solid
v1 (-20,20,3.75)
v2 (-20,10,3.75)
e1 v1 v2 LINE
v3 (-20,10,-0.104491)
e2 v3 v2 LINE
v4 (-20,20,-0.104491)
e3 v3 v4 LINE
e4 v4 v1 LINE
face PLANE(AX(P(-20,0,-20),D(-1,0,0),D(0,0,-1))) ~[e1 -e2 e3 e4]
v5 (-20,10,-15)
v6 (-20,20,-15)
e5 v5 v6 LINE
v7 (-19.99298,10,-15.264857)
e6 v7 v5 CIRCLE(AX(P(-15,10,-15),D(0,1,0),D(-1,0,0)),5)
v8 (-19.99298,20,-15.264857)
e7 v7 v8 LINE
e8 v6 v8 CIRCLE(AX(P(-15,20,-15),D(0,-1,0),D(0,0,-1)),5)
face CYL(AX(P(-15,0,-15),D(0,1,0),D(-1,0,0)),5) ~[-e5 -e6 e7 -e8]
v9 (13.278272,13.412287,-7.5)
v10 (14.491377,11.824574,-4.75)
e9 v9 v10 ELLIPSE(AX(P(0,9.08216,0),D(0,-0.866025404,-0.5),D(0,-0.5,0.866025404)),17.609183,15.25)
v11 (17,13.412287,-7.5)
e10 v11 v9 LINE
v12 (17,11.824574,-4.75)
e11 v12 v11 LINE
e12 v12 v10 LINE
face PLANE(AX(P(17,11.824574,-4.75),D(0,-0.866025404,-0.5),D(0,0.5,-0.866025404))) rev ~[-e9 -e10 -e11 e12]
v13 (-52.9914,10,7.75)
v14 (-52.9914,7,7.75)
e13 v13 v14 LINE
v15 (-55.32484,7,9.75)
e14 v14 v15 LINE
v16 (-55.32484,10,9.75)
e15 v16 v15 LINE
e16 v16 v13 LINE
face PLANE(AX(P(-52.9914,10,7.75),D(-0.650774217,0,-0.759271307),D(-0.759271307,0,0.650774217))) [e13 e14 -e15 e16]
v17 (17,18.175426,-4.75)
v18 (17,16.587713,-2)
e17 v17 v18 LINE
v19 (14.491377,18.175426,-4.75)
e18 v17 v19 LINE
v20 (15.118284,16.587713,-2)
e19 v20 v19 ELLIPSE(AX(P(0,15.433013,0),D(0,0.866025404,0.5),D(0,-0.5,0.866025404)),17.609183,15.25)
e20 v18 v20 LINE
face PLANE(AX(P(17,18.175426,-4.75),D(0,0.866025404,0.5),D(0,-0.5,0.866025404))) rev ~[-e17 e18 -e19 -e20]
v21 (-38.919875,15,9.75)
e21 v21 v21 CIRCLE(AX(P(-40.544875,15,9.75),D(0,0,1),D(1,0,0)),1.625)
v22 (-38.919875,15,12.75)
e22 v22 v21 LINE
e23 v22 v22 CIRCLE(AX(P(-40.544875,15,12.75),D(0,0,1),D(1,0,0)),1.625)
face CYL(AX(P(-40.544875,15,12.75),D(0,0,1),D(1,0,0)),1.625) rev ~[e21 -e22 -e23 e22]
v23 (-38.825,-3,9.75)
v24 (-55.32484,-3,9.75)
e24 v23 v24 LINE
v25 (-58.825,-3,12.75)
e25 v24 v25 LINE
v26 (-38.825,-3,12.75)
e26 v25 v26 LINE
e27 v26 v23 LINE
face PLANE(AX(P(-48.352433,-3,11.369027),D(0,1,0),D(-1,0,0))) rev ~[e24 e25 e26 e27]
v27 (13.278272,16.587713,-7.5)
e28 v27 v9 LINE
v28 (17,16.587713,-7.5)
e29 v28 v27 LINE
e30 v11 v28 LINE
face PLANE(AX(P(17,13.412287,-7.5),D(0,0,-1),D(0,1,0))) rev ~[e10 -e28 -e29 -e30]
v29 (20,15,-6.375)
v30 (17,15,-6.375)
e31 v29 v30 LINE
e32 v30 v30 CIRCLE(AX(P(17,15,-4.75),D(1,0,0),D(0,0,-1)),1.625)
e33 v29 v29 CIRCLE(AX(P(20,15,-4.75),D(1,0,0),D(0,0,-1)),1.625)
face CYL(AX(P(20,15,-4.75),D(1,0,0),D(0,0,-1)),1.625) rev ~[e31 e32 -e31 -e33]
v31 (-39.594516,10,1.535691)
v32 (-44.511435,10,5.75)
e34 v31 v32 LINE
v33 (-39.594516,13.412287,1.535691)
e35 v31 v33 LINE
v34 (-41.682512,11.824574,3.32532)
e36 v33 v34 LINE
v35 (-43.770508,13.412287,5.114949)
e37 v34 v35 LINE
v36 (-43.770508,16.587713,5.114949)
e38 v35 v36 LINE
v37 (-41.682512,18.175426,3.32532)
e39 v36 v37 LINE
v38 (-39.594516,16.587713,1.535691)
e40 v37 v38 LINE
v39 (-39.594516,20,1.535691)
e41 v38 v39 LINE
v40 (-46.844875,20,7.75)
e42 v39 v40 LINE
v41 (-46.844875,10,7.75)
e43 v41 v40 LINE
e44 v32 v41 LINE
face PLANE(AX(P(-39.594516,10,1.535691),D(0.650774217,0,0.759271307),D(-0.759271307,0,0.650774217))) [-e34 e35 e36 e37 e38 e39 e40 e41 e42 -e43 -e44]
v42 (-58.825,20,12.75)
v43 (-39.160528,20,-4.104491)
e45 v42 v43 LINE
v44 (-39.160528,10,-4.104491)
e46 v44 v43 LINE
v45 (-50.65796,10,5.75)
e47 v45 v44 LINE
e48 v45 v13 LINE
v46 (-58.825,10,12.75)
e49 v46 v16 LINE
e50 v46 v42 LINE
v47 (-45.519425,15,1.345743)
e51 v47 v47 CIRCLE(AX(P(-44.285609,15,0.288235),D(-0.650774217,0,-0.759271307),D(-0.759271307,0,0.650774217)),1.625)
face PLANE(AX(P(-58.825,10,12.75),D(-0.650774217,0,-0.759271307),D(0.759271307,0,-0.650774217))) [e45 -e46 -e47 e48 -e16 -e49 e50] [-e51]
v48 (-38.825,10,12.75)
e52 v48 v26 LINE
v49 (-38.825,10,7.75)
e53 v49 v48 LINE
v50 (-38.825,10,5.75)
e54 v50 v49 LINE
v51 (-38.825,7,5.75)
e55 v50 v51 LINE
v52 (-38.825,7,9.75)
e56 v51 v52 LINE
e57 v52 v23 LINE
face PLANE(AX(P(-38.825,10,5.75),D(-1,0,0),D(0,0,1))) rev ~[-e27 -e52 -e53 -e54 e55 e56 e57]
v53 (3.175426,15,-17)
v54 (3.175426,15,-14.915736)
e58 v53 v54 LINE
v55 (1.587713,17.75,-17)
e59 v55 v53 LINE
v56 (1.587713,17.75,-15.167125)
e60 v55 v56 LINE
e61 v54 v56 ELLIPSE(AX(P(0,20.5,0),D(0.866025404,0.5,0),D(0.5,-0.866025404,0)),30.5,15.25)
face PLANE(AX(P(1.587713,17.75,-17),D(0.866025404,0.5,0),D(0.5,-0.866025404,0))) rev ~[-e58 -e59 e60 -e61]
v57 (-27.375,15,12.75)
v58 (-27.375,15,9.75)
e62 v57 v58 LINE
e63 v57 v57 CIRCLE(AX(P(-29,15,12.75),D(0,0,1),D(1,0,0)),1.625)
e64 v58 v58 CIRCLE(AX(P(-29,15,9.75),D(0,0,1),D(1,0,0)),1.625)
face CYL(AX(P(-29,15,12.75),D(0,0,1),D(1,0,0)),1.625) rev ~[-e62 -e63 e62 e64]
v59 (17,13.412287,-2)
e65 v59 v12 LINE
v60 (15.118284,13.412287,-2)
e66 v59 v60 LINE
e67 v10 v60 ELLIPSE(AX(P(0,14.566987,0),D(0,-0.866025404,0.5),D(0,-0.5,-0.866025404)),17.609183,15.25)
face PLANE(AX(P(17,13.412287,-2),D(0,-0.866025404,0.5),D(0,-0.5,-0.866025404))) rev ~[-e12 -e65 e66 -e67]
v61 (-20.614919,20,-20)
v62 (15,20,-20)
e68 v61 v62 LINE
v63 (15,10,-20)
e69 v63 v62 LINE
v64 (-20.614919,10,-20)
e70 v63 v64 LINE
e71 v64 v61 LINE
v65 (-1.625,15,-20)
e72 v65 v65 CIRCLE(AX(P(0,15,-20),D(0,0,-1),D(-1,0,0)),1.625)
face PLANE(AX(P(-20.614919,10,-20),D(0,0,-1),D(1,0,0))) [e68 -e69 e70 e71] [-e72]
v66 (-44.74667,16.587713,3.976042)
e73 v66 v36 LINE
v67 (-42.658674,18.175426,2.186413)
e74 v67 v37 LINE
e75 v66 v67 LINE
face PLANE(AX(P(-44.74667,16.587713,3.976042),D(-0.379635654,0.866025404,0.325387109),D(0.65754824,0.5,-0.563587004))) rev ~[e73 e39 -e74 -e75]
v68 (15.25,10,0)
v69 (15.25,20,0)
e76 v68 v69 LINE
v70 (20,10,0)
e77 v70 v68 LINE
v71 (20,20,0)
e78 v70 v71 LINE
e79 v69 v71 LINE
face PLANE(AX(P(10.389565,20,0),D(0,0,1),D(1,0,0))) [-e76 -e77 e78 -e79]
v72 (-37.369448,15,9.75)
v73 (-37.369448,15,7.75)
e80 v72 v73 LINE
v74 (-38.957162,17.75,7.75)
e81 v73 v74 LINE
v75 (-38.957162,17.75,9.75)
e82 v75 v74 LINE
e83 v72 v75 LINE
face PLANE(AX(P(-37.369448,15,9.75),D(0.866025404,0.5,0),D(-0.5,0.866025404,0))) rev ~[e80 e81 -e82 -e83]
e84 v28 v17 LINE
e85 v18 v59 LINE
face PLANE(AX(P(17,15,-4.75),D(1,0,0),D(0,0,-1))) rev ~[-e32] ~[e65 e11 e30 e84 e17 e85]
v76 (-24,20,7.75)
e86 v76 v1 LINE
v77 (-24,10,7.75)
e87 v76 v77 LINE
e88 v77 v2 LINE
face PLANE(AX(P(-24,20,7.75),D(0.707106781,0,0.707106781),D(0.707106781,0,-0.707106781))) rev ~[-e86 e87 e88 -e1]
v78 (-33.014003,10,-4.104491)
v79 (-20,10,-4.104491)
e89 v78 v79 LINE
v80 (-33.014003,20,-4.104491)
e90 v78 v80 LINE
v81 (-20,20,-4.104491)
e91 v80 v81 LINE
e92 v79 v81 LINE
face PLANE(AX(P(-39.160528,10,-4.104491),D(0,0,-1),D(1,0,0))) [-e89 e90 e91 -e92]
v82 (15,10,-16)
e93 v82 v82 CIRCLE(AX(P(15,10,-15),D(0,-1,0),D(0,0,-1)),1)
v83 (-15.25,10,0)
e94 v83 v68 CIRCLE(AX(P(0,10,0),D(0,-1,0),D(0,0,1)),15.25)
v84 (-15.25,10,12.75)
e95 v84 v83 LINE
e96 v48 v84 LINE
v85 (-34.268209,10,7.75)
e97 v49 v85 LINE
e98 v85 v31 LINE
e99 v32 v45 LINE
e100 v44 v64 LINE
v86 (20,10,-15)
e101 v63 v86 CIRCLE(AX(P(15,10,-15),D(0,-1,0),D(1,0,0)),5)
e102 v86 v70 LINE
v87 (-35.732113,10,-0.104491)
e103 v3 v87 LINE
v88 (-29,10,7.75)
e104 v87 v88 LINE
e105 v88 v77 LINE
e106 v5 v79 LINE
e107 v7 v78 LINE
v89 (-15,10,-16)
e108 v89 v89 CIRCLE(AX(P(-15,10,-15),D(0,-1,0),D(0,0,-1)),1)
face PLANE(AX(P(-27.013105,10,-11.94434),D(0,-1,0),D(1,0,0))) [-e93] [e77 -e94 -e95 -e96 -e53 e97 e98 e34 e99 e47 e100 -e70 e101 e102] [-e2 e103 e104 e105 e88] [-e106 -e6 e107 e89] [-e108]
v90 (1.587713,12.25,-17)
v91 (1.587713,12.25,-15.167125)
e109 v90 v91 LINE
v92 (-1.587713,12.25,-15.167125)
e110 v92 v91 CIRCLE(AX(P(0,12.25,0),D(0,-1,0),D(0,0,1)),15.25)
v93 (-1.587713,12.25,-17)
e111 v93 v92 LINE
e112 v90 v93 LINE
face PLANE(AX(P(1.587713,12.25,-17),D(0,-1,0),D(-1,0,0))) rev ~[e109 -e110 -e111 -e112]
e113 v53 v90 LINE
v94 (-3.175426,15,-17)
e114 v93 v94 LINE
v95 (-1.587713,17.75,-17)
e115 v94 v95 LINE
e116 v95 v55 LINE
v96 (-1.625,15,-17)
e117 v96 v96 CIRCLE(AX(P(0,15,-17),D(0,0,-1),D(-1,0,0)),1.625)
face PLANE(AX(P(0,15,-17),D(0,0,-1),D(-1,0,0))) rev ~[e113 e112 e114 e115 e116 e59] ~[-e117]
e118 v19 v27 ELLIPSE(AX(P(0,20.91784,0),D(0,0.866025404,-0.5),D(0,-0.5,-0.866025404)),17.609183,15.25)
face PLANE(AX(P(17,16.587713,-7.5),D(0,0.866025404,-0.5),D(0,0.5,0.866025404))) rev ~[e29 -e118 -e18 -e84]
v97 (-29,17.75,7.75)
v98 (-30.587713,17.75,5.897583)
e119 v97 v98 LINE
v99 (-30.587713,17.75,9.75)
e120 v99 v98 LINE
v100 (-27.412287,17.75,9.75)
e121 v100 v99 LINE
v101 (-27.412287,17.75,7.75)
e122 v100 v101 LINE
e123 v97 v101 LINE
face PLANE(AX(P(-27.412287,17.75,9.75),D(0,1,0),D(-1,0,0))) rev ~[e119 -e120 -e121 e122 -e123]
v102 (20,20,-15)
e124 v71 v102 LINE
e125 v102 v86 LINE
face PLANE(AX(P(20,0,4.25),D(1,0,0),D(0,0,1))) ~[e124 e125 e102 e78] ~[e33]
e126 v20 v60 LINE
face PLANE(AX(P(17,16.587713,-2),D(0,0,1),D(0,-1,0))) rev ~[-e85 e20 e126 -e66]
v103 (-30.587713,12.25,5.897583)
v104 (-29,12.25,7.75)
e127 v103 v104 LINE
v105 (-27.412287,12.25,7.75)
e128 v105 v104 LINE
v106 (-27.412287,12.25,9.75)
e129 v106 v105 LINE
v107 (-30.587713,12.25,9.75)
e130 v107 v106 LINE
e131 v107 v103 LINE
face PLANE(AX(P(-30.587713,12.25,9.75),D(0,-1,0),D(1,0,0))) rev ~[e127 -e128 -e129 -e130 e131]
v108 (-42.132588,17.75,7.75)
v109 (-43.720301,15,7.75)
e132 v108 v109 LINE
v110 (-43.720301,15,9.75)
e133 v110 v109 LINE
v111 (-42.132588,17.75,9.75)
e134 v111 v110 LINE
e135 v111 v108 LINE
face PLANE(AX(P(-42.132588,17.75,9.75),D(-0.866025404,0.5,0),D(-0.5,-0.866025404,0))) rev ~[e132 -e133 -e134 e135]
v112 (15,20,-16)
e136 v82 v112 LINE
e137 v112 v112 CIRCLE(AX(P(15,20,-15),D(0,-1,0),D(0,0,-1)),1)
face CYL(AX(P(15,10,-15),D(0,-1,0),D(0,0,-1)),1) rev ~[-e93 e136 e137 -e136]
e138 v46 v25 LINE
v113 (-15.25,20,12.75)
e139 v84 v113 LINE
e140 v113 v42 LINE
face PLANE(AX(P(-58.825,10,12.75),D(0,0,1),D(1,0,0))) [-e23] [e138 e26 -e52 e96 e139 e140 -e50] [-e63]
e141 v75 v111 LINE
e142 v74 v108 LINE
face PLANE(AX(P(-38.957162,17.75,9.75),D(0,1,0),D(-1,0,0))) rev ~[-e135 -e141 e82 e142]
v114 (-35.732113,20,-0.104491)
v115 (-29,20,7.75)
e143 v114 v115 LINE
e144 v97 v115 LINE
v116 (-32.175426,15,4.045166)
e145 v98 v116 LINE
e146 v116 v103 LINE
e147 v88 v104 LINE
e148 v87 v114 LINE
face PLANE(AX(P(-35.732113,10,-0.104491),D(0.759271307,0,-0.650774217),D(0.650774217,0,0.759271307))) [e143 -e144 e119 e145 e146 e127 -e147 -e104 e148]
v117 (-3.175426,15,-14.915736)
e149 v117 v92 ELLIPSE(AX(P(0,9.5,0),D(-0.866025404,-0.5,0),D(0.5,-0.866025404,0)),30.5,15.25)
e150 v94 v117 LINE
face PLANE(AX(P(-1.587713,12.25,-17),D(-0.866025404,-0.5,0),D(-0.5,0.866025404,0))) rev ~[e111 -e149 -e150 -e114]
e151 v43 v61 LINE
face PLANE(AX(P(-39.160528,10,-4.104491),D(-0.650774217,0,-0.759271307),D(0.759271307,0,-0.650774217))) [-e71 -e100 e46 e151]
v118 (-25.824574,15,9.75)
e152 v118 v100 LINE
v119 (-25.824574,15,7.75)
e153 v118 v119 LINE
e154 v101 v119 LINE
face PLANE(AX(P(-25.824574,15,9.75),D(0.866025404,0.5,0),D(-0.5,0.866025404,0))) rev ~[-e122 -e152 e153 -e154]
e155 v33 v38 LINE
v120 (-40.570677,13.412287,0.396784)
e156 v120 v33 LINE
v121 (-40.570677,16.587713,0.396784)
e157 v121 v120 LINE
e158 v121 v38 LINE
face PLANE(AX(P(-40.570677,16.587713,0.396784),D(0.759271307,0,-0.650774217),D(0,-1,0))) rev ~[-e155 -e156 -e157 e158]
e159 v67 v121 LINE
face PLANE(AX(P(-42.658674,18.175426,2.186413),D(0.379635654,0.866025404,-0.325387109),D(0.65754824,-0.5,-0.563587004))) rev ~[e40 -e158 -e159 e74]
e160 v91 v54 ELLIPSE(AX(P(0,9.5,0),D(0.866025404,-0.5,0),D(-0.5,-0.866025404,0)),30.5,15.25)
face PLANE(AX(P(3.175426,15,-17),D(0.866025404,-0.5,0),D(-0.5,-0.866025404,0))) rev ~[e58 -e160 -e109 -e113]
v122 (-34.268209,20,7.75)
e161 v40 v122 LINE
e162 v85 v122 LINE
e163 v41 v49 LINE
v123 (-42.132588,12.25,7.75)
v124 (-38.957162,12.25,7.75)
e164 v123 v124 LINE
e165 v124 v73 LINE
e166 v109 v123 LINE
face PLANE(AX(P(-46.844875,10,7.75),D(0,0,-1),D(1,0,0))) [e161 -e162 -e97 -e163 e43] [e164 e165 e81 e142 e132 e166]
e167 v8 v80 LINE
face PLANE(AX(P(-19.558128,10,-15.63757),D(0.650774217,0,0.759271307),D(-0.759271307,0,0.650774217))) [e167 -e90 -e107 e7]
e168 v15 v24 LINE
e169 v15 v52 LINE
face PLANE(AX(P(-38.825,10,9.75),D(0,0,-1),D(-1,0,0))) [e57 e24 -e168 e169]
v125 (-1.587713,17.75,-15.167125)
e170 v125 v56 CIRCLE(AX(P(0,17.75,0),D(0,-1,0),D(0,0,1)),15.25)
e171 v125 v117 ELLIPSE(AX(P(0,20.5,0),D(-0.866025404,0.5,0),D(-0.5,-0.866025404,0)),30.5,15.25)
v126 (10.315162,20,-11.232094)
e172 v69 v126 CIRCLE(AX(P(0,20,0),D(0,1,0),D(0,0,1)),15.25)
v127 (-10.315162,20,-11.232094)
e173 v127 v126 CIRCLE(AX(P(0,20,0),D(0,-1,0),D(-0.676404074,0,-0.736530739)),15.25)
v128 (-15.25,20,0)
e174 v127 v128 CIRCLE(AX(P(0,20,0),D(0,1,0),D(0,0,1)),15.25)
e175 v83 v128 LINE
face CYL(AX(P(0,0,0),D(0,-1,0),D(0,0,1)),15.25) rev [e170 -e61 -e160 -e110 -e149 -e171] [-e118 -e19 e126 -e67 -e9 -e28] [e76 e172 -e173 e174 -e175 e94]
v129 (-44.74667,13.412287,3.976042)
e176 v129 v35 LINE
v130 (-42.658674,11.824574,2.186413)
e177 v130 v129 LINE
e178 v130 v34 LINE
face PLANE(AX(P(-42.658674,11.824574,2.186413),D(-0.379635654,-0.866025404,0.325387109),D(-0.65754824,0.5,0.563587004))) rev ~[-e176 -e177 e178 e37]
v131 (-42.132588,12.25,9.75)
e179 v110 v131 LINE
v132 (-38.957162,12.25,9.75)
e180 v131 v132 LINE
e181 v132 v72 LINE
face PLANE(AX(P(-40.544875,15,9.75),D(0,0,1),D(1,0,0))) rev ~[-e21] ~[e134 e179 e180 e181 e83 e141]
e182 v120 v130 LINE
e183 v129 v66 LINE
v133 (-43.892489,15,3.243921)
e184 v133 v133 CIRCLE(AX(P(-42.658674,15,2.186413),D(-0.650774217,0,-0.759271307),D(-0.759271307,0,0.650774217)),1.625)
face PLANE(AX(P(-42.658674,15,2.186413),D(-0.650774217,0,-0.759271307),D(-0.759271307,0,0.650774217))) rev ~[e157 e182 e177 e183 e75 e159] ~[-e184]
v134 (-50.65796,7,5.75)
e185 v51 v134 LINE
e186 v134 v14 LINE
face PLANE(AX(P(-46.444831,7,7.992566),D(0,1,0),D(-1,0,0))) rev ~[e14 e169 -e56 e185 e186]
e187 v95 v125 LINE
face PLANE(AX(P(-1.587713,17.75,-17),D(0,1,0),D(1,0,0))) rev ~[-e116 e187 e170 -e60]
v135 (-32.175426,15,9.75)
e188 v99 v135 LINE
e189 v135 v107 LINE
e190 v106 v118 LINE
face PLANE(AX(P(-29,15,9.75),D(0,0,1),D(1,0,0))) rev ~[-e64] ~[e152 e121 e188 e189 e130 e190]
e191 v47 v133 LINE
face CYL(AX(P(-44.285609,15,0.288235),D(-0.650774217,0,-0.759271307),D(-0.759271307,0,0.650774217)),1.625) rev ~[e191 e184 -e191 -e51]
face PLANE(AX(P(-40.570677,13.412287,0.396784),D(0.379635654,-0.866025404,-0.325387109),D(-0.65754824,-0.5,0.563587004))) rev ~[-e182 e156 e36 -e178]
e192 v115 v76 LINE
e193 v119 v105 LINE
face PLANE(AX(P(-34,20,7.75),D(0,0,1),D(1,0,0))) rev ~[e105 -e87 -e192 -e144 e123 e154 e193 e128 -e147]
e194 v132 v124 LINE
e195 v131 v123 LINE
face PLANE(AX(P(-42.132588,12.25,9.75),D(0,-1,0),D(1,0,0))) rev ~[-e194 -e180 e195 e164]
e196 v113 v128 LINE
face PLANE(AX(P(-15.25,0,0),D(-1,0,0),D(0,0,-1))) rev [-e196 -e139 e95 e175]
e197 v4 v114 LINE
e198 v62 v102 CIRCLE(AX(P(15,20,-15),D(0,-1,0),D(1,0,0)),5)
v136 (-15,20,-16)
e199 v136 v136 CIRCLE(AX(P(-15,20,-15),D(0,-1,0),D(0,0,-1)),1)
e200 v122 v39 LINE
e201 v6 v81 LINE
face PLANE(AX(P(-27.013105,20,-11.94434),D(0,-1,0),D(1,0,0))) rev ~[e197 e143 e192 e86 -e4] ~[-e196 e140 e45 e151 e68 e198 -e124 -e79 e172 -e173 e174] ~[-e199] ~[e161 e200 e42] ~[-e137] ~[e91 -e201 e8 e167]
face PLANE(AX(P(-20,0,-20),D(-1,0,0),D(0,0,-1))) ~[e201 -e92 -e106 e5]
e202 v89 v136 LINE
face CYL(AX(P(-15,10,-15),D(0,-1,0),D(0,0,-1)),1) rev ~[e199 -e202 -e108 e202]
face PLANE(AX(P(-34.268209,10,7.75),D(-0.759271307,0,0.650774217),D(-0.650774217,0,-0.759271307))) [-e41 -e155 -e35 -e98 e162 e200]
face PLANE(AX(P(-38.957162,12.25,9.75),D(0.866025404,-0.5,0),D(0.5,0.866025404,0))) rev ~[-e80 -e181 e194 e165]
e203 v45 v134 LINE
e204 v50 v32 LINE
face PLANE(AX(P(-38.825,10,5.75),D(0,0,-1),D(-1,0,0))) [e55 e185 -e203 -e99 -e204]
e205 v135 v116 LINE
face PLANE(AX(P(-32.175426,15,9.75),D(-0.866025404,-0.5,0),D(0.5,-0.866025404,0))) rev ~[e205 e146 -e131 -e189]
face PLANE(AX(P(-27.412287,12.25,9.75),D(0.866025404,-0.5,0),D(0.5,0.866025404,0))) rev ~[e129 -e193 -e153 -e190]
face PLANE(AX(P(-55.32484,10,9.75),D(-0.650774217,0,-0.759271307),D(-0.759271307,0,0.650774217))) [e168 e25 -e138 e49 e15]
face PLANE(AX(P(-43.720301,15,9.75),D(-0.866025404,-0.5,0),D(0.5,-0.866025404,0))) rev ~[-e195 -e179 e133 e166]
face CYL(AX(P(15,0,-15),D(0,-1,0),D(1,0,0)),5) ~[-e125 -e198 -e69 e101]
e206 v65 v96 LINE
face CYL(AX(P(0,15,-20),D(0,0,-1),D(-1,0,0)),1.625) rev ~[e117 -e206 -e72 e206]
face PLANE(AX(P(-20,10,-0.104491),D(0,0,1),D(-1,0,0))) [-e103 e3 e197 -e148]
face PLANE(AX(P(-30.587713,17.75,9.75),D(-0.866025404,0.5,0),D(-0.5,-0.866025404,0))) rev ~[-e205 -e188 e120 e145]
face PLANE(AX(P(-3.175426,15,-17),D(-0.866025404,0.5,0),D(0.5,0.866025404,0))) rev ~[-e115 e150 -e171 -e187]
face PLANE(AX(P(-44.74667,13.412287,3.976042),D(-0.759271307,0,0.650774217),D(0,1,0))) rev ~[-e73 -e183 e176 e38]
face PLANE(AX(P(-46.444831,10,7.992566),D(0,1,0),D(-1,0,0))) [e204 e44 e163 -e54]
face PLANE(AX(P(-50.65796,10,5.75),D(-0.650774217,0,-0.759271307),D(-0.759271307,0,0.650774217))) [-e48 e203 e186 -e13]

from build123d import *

# Parameters (mm, degrees)
CROQUIS1_R                              = 15.25
CROQUIS1_R_2                            = 2.125
SOPORTE_CAJA_REDUCTORA_DEPTH            = 20
CROQUIS3_R                              = 2.125
CORTAR_EXTRUIR1_DEPTH                   = 51.423828692
REDONDEO1_R                             = 5
BOSS_EXTRUDE1_DEPTH                     = 20
CUT_EXTRUDE1_REACH                      = 55.852
SKETCH2_R                               = 1.625
CUT_EXTRUDE2_DEPTH                      = 2
SKETCH4_R                               = 1.625
CUT_EXTRUDE3_DEPTH                      = 63.291652731
CUT_EXTRUDE4_START                      = -4.5
CUT_EXTRUDE4_DEPTH                      = 2
CROQUIS6_W                              = 4.75
CROQUIS6_H                              = 4.75
CORTAR_EXTRUIR17_DEPTH                  = 42.231056256
CROQUIS7_W                              = 60
CROQUIS7_H                              = 20
CORTAR_EXTRUIR18_DEPTH                  = 51.423828692
SALIENTE_EXTRUIR2_DEPTH                 = 49
SOPORTE_START                           = -15
SOPORTE_MOTOR_DEPTH                     = 15
CROQUIS12_R                             = 2.125
AGUJEROS_DE_SUJECION_A_BASE_DEPTH       = 84.087679592
TUERCA_START                            = -4
TUERCA_AGUJERO_DE_SUJECION_A_BASE_DEPTH = 10
SALIENTE_EXTRUIR4_DEPTH                 = 15
CORTAR_EXTRUIR19_DEPTH                  = 25
CROQUIS14_W                             = 50
CROQUIS14_H                             = 118
CORTAR_EXTRUIR22_DEPTH                  = 146.556045907
CROQUIS15_W                             = 10
CROQUIS15_H                             = 7
CORTAR_EXTRUIR23_DEPTH                  = 42.231056256
CORTAR_EXTRUIR24_DEPTH                  = 42.231056256
CROQUIS18_W                             = 40
CROQUIS18_H                             = 10
CORTAR_EXTRUIR25_DEPTH                  = 44.27311521
SALIENTE_EXTRUIR5_DEPTH                 = 10
CROQUIS20_R                             = 1
CORTAR_EXTRUIR26_DEPTH                  = 49.229270158
CORTAR_EXTRUIR27_REACH                  = 62.959
CORTAR_EXTRUIR27_END_RADIUS             = 15.25
CROQUIS21_R                             = 1.625
CROQUIS22_R                             = 2.125
CROQUIS22_R_2                           = 1
SALIENTE_EXTRUIR6_DEPTH                 = 10
CROQUIS23_R                             = 1.625
CORTAR_EXTRUIR28_DEPTH                  = 52.269508521
CORTAR_EXTRUIR29_START                  = -3
CORTAR_EXTRUIR29_DEPTH                  = 10
SALIENTE_EXTRUIR7_DEPTH                 = 10
CORTAR_EXTRUIR30_REACH                  = 72.235
CROQUIS27_R                             = 1.625
CORTAR_EXTRUIR31_REACH                  = 75.235
CORTAR_EXTRUIR31_START                  = -3
CORTAR_EXTRUIR32_REACH                  = 58.612
CROQUIS29_R                             = 1.625
CORTAR_EXTRUIR33_REACH                  = 61.112
CORTAR_EXTRUIR33_START                  = -2.5
CROQUIS35_W                             = 13.305418987
CROQUIS35_H                             = 6.826864192
CORTAR_EXTRUIR34_DEPTH                  = 63.931555098
CORTAR_EXTRUIR34_DEPTH_BACK             = 63.931555098
CORTAR_EXTRUIR35_START                  = -3
CORTAR_EXTRUIR35_DEPTH                  = 10
SALIENTE_EXTRUIR8_DEPTH                 = 10
SALIENTE_EXTRUIR9_DEPTH                 = 13
SALIENTE_EXTRUIR10_DEPTH                = 3


with BuildPart() as part:
    # Croquis1 → Soporte caja reductora (new body)
    with BuildSketch(Plane(origin=(0, 0, 0), x_dir=(1, 0, 0), z_dir=(0, 1, 0))):
        Polygon((-30, -15.25), (-20, -15.25), (-20, -20), (20, -20), (20, -15.25), (30, -15.25), (30, -7.25), (20, -4.25), (20, 20), (-20, 20), (-20, -4.25), (-30, -7.25), align=None)
        with Locations(Location((0, 0, 0), (0, 0, 270))):
            Circle(CROQUIS1_R, mode=Mode.SUBTRACT)
        with Locations(Location((-15, 15, 0), (0, 0, 270))):
            Circle(CROQUIS1_R_2, mode=Mode.SUBTRACT)
        with Locations(Location((15, 15, 0), (0, 0, 270))):
            Circle(CROQUIS1_R_2, mode=Mode.SUBTRACT)
    extrude(amount=-SOPORTE_CAJA_REDUCTORA_DEPTH)

    # Croquis3 → Cortar-Extruir1 (cut, through all)
    with BuildSketch(Plane.XY.offset(15.25)):
        with Locations((-23.5, -10)):
            Circle(CROQUIS3_R)
        with Locations((23.5, -10)):
            Circle(CROQUIS3_R)
    extrude(amount=-CORTAR_EXTRUIR1_DEPTH, mode=Mode.SUBTRACT)

    # Redondeo1
    redondeo1_edges = [part.edges().sort_by_distance(p)[0] for p in [
        (-20, -10, -20),
        (20, -10, -20),
    ]]
    fillet(redondeo1_edges, radius=REDONDEO1_R)

    # Sketch1 → Boss-Extrude1 (add)
    with BuildSketch(Plane(origin=(0, 0, 0), x_dir=(1, 0, 0), z_dir=(0, 1, 0))):
        with BuildLine():
            Line((25.5, 15), (20, 15))
            ThreePointArc((20, 15), (18.535533906, 18.535533906), (15, 20))
            Line((15, 20), (30, 20))
            Line((30, 20), (30, 8))
            Line((30, 8), (25.5, 8))
            Line((25.5, 8), (25.5, 15))
        make_face()
    extrude(amount=-BOSS_EXTRUDE1_DEPTH)

    # Sketch2 → Cut-Extrude1 (cut, up to next)
    with BuildSketch(Plane(origin=(0, 0, -20), x_dir=(-1, 0, 0), z_dir=(0, 0, -1)), mode=Mode.PRIVATE) as cut_extrude1_sk1:
        with Locations((-22.75, -10)):
            Circle(SKETCH2_R)
    cut_extrude1_tool1 = extrude(cut_extrude1_sk1.sketch, amount=-CUT_EXTRUDE1_REACH, mode=Mode.PRIVATE) & part.part
    add(cut_extrude1_tool1.solids().sort_by_distance((22.75, -10, -20))[0], mode=Mode.SUBTRACT)

    # Sketch3 → Cut-Extrude2 (cut)
    with BuildSketch(Plane.XY.offset(-15)):
        Polygon((20, -11.58771324), (22.75, -13.175426481), (25.5, -11.58771324), (25.5, -8.41228676), (22.75, -6.824573519), (20, -8.41228676), align=None)
    extrude(amount=-CUT_EXTRUDE2_DEPTH, mode=Mode.SUBTRACT)

    # Sketch4 → Cut-Extrude3 (cut, through all)
    with BuildSketch(Plane.ZY.offset(-25.5)):
        with Locations((-12.25, -10)):
            Circle(SKETCH4_R)
    extrude(amount=-CUT_EXTRUDE3_DEPTH, mode=Mode.SUBTRACT)

    # Sketch5 → Cut-Extrude4 (cut)
    with BuildSketch(Plane(origin=(30, 0, 0), x_dir=(0, 0, -1), z_dir=(1, 0, 0)).offset(CUT_EXTRUDE4_START)):
        Polygon((15, -11.58771324), (15, -8.41228676), (12.25, -6.824573519), (9.5, -8.41228676), (9.5, -11.58771324), (12.25, -13.175426481), align=None)
    extrude(amount=CUT_EXTRUDE4_DEPTH, mode=Mode.SUBTRACT)

    # Croquis6 → Cortar-Extruir17 (cut, through all)
    with BuildSketch(Plane(origin=(0, 0, 0), x_dir=(1, 0, 0), z_dir=(0, 1, 0))):
        Polygon((0, -15.25), (-15.25, -15.25), (-15.25, -20), (15.25, -20), (15.25, -15.25), align=None)
        with Locations((-17.625, -17.625)):
            Rectangle(CROQUIS6_W, CROQUIS6_H)
        with BuildLine():
            ThreePointArc((0, -15.25), (-10.783378413, -10.783378413), (-15.25, 0))
            Line((-15.25, 0), (-15.25, -15.25))
            Line((-15.25, -15.25), (0, -15.25))
        make_face()
        with BuildLine():
            Line((15.25, -15.25), (15.25, 0))
            ThreePointArc((15.25, 0), (10.783378413, -10.783378413), (0, -15.25))
            Line((0, -15.25), (15.25, -15.25))
        make_face()
        with Locations((17.625, -17.625)):
            Rectangle(CROQUIS6_W, CROQUIS6_H)
    extrude(amount=-CORTAR_EXTRUIR17_DEPTH, mode=Mode.SUBTRACT)


with BuildPart() as body_2:
    # Simetría1: mirrored copy
    add(part.part.mirror(Plane.ZX))

    # Croquis8 → Saliente-Extruir2 (add)
    with BuildSketch(Plane(origin=(0, 20, 0), x_dir=(1, 0, 0), z_dir=(0, 1, 0))):
        with BuildLine():
            Line((-12.664515522, 20), (-11.040489496, 13.939052358))
            Line((-11.040489496, 13.939052358), (-10.315162126, 11.232093763))
            ThreePointArc((-10.315162126, 11.232093763), (0, 15.25), (10.315162126, 11.232093763))
            Line((10.315162126, 11.232093763), (10.817418481, 13.87928066))
            Line((10.817418481, 13.87928066), (11.978715476, 20))
            Line((11.978715476, 20), (-12.664515522, 20))
        make_face()
    extrude(amount=SALIENTE_EXTRUIR2_DEPTH)

    # Croquis9 → Soporte motor (add)
    with BuildSketch(Plane(origin=(0, 69, 0), x_dir=(1, 0, 0), z_dir=(0, 1, 0)).offset(SOPORTE_START)):
        with BuildLine():
            Line((-20, 15), (-20, -4.25))
            Line((-20, -4.25), (-30, -7.25))
            Line((-30, -7.25), (-30, -15.25))
            Line((-30, -15.25), (0, -15.25))
            Line((0, -15.25), (0, -14.75))
            ThreePointArc((0, -14.75), (-10.429825023, 10.429825023), (14.75, 0))
            Line((14.75, 0), (20, 0))
            Line((20, 0), (20, 13.936837101))
            Line((20, 13.936837101), (12.664515522, 20))
            Line((12.664515522, 20), (-15, 20))
            ThreePointArc((-15, 20), (-18.535533906, 18.535533906), (-20, 15))
        make_face()
    extrude(amount=-SOPORTE_MOTOR_DEPTH)

    # Croquis12 → Agujeros de sujecion a base (cut, through all)
    with BuildSketch(Plane.XY.offset(15.25)):
        with Locations((-23.5, 46.5)):
            Circle(CROQUIS12_R)
    extrude(amount=-AGUJEROS_DE_SUJECION_A_BASE_DEPTH, mode=Mode.SUBTRACT)

    # Croquis13 → Tuerca Agujero de sujecion a base (cut)
    with BuildSketch(Plane.XY.offset(15.25).offset(TUERCA_START)):
        Polygon((-20, 44.479274058), (-20, 48.520725942), (-23.5, 50.541451884), (-27, 48.520725942), (-27, 44.479274058), (-23.5, 42.458548116), align=None)
    extrude(amount=-TUERCA_AGUJERO_DE_SUJECION_A_BASE_DEPTH, mode=Mode.SUBTRACT)

    # Croquis10 → Saliente-Extruir4 (add)
    with BuildSketch(Plane(origin=(0, 69, 0), x_dir=(1, 0, 0), z_dir=(0, 1, 0))):
        with BuildLine():
            ThreePointArc((10.315162126, 11.232093763), (0, 15.25), (-10.315162126, 11.232093763))
            Line((-10.315162126, 11.232093763), (-10.16850369, 10.684757026))
            ThreePointArc((-10.16850369, 10.684757026), (0, 14.75), (10.16850369, 10.684757026))
            Line((10.16850369, 10.684757026), (10.315162126, 11.232093763))
        make_face()
    extrude(amount=-SALIENTE_EXTRUIR4_DEPTH)

    # Croquis11 → Cortar-Extruir19 (cut)
    with BuildSketch(Plane.XZ):
        with BuildLine():
            Line((15.25, 4.25), (20, 4.25))
            Line((20, 4.25), (21.972856468, 4.84185694))
            ThreePointArc((21.972856468, 4.84185694), (19.948931102, 10.40625523), (16.543503257, 15.25))
            Line((16.543503257, 15.25), (15.25, 15.25))
            Line((15.25, 15.25), (15.25, 4.25))
        make_face()
        with BuildLine():
            Line((21.972856468, 4.84185694), (30, 7.25))
            Line((30, 7.25), (30, 15.25))
            Line((30, 15.25), (16.543503257, 15.25))
            ThreePointArc((16.543503257, 15.25), (19.948931102, 10.40625523), (21.972856468, 4.84185694))
        make_face()
        with BuildLine():
            ThreePointArc((20, -15), (18.535533906, -18.535533906), (15, -20))
            Line((15, -20), (30, -20))
            Line((30, -20), (30, -8))
            Line((30, -8), (25.5, -8))
            Line((25.5, -8), (25.5, -15))
            Line((25.5, -15), (20, -15))
        make_face()
    extrude(amount=-CORTAR_EXTRUIR19_DEPTH, mode=Mode.SUBTRACT)

    # Simetría2: body 2 across face


with BuildPart() as part_1:
    add(part.part)

    # Croquis7 → Cortar-Extruir18 (cut, through all)
    with BuildSketch(Plane(origin=(0, 0, -20), x_dir=(-1, 0, 0), z_dir=(0, 0, -1))):
        with Locations((0, -10)):
            Rectangle(CROQUIS7_W, CROQUIS7_H)
    extrude(amount=-CORTAR_EXTRUIR18_DEPTH, mode=Mode.SUBTRACT)


with BuildPart() as body_2_1:
    add(body_2.part)
    add(body_2.part.mirror(Plane(origin=(-0.229209569, 69, -16.663998028), x_dir=(0, 0, 1), z_dir=(0, 1, 0))))

    # Croquis14 → Cortar-Extruir22 (cut, through all)
    with BuildSketch(Plane.XY.offset(15.25)):
        with Locations((-5, 79)):
            Rectangle(CROQUIS14_W, CROQUIS14_H)
    extrude(amount=-CORTAR_EXTRUIR22_DEPTH, mode=Mode.SUBTRACT)

    # Croquis15 → Cortar-Extruir23 (cut, through all)
    with BuildSketch(Plane.XZ):
        with Locations((-25, 7.75)):
            Rectangle(CROQUIS15_W, CROQUIS15_H)
    extrude(amount=-CORTAR_EXTRUIR23_DEPTH, mode=Mode.SUBTRACT)

    # Croquis16 → Cortar-Extruir24 (cut, through all)
    with BuildSketch(Plane.XZ):
        Polygon((-30, 15.25), (-15.25, 15.25), (-15.25, 12.75), (-20, 12.75), (-20, 11.25), (-30, 11.25), (-30, 12.75), align=None)
    extrude(amount=-CORTAR_EXTRUIR24_DEPTH, mode=Mode.SUBTRACT)

    # Croquis18 → Cortar-Extruir25 (cut, through all)
    with BuildSketch(Plane(origin=(0, 0, -20), x_dir=(-1, 0, 0), z_dir=(0, 0, -1))):
        with Locations((0, 5)):
            Rectangle(CROQUIS18_W, CROQUIS18_H)
    extrude(amount=-CORTAR_EXTRUIR25_DEPTH, mode=Mode.SUBTRACT)

    # Croquis19 → Saliente-Extruir5 (add)
    with BuildSketch(Plane(origin=(0, 20, 0), x_dir=(1, 0, 0), z_dir=(0, 1, 0))):
        Polygon((-20, -12.75), (-34, -12.75), (-34, -7.75), (-24, -7.75), (-20, -3.75), align=None)
    extrude(amount=-SALIENTE_EXTRUIR5_DEPTH)

    # Croquis20 → Cortar-Extruir26 (cut, through all)
    with BuildSketch(Plane(origin=(0, 0, 7.75), x_dir=(-1, 0, 0), z_dir=(0, 0, -1))):
        with Locations((29, 15)):
            Circle(CROQUIS20_R)
    extrude(amount=-CORTAR_EXTRUIR26_DEPTH, mode=Mode.SUBTRACT)

    # Cortar-Extruir27: up to this cylinder (the profile starts outside it)
    cortar_extruir27_end = Plane(origin=(0, 15, 0), z_dir=(0, -1, 0)) * Cylinder(CORTAR_EXTRUIR27_END_RADIUS, 157.418, mode=Mode.PRIVATE)
    # Croquis21 → Cortar-Extruir27 (cut, up to the surface)
    with BuildSketch(Plane(origin=(20, 0, 0), x_dir=(0, 0, -1), z_dir=(1, 0, 0)), mode=Mode.PRIVATE) as cortar_extruir27_sk1:
        with Locations((4.75, 15)):
            Circle(CROQUIS21_R)
    cortar_extruir27_tool1 = extrude(cortar_extruir27_sk1.sketch, amount=-CORTAR_EXTRUIR27_REACH, mode=Mode.PRIVATE) - cortar_extruir27_end
    add(cortar_extruir27_tool1.solids().sort_by_distance((20, 15, -4.75))[0], mode=Mode.SUBTRACT)

    # Croquis22 → Saliente-Extruir6 (add)
    with BuildSketch(Plane.XZ.offset(-10)):
        with Locations((-15, -15)):
            Circle(CROQUIS22_R)
        with Locations(Location((-15, -15, 0), (0, 0, 270))):
            Circle(CROQUIS22_R_2, mode=Mode.SUBTRACT)
        with Locations((15, -15)):
            Circle(CROQUIS22_R)
        with Locations(Location((15, -15, 0), (0, 0, 270))):
            Circle(CROQUIS22_R_2, mode=Mode.SUBTRACT)
    extrude(amount=-SALIENTE_EXTRUIR6_DEPTH)

    # Croquis23 → Cortar-Extruir28 (cut, through all)
    with BuildSketch(Plane(origin=(0, 0, -20), x_dir=(-1, 0, 0), z_dir=(0, 0, -1))):
        with Locations((0, 15)):
            Circle(CROQUIS23_R)
    extrude(amount=-CORTAR_EXTRUIR28_DEPTH, mode=Mode.SUBTRACT)

    # Croquis24 → Cortar-Extruir29 (cut)
    with BuildSketch(Plane(origin=(0, 0, -20), x_dir=(-1, 0, 0), z_dir=(0, 0, -1)).offset(CORTAR_EXTRUIR29_START)):
        Polygon((1.58771324, 12.25), (3.175426481, 15), (1.58771324, 17.75), (-1.58771324, 17.75), (-3.175426481, 15), (-1.58771324, 12.25), align=None)
    extrude(amount=-CORTAR_EXTRUIR29_DEPTH, mode=Mode.SUBTRACT)

    # Croquis26 → Saliente-Extruir7 (add)
    with BuildSketch(Plane.XZ.offset(-10)):
        Polygon((-34, 7.75), (-34, 12.75), (-58.825, 12.75), (-39.160527763, -4.104491148), (-20, -4.104491148), (-20, -0.104491148), (-35.732113118, -0.104491148), (-29, 7.75), align=None)
        Polygon((-34.268209086, 7.75), (-39.594516123, 1.535690951), (-46.844874897, 7.75), align=None, mode=Mode.SUBTRACT)
    extrude(amount=-SALIENTE_EXTRUIR7_DEPTH)

    # Croquis27 → Cortar-Extruir30 (cut, up to next)
    with BuildSketch(Plane.XY.offset(12.75), mode=Mode.PRIVATE) as cortar_extruir30_sk1:
        with Locations((-40.544874897, 15)):
            Circle(CROQUIS27_R)
    cortar_extruir30_tool1 = extrude(cortar_extruir30_sk1.sketch, amount=-CORTAR_EXTRUIR30_REACH, mode=Mode.PRIVATE) & body_2_1.part
    # Croquis27 → Cortar-Extruir30 (cut, up to next)
    with BuildSketch(Plane.XY.offset(12.75), mode=Mode.PRIVATE) as cortar_extruir30_sk2:
        with Locations((-29, 15)):
            Circle(CROQUIS27_R)
    cortar_extruir30_tool2 = extrude(cortar_extruir30_sk2.sketch, amount=-CORTAR_EXTRUIR30_REACH, mode=Mode.PRIVATE) & body_2_1.part
    add(cortar_extruir30_tool1.solids().sort_by_distance((-40.544875, 15, 12.75))[0], mode=Mode.SUBTRACT)
    add(cortar_extruir30_tool2.solids().sort_by_distance((-29, 15, 12.75))[0], mode=Mode.SUBTRACT)

    # Croquis28 → Cortar-Extruir31 (cut, up to next)
    with BuildSketch(Plane.XY.offset(12.75).offset(CORTAR_EXTRUIR31_START), mode=Mode.PRIVATE) as cortar_extruir31_sk1:
        Polygon((-38.957161657, 12.25), (-37.369448416, 15), (-38.957161657, 17.75), (-42.132588137, 17.75), (-43.720301378, 15), (-42.132588137, 12.25), align=None)
    cortar_extruir31_tool1 = extrude(cortar_extruir31_sk1.sketch, amount=-CORTAR_EXTRUIR31_REACH, mode=Mode.PRIVATE) & body_2_1.part
    # Croquis28 → Cortar-Extruir31 (cut, up to next)
    with BuildSketch(Plane.XY.offset(12.75).offset(CORTAR_EXTRUIR31_START), mode=Mode.PRIVATE) as cortar_extruir31_sk2:
        Polygon((-27.41228676, 12.25), (-25.824573519, 15), (-27.41228676, 17.75), (-30.58771324, 17.75), (-32.175426481, 15), (-30.58771324, 12.25), align=None)
    cortar_extruir31_tool2 = extrude(cortar_extruir31_sk2.sketch, amount=-CORTAR_EXTRUIR31_REACH, mode=Mode.PRIVATE) & body_2_1.part
    add(cortar_extruir31_tool1.solids().sort_by_distance((-40.544875, 15, 9.75))[0], mode=Mode.SUBTRACT)
    add(cortar_extruir31_tool2.solids().sort_by_distance((-29, 15, 9.75))[0], mode=Mode.SUBTRACT)

    # Croquis29 → Cortar-Extruir32 (cut, up to next)
    with BuildSketch(Plane(origin=(-18.612848159, 0, -21.715982563), x_dir=(-0.7592713073348843, 0, 0.6507742172658468), z_dir=(-0.6507742172658468, 0, -0.7592713073348843)), mode=Mode.PRIVATE) as cortar_extruir32_sk1:
        with Locations((33.812368097, 15)):
            Circle(CROQUIS29_R)
    cortar_extruir32_tool1 = extrude(cortar_extruir32_sk1.sketch, amount=-CORTAR_EXTRUIR32_REACH, mode=Mode.PRIVATE) & body_2_1.part
    add(cortar_extruir32_tool1.solids().sort_by_distance((-44.285609, 15, 0.288235))[0], mode=Mode.SUBTRACT)

    # Croquis31 → Cortar-Extruir33 (cut, up to next)
    with BuildSketch(Plane(origin=(-18.612848159, 0, -21.715982563), x_dir=(-0.7592713073348843, 0, 0.6507742172658468), z_dir=(-0.6507742172658468, 0, -0.7592713073348843)).offset(CORTAR_EXTRUIR33_START), mode=Mode.PRIVATE) as cortar_extruir33_sk1:
        Polygon((36.562368097, 16.58771324), (33.812368097, 18.175426481), (31.062368097, 16.58771324), (31.062368097, 13.41228676), (33.812368097, 11.824573519), (36.562368097, 13.41228676), align=None)
    cortar_extruir33_tool1 = extrude(cortar_extruir33_sk1.sketch, amount=-CORTAR_EXTRUIR33_REACH, mode=Mode.PRIVATE) & body_2_1.part
    add(cortar_extruir33_tool1.solids().sort_by_distance((-42.658674, 15, 2.186413))[0], mode=Mode.SUBTRACT)

    # Croquis35 → Cortar-Extruir34 (cut, two sides)
    with BuildSketch(Plane(origin=(0, 20, 0), x_dir=(1, 0, 0), z_dir=(0, 1, 0))) as cortar_extruir34_sk:
        with Locations((17.04227466, -3.413432096)):
            Rectangle(CROQUIS35_W, CROQUIS35_H)
    extrude(amount=CORTAR_EXTRUIR34_DEPTH, mode=Mode.SUBTRACT)
    extrude(cortar_extruir34_sk.sketch, amount=-CORTAR_EXTRUIR34_DEPTH_BACK, mode=Mode.SUBTRACT)

    # Croquis36 → Cortar-Extruir35 (cut)
    with BuildSketch(Plane(origin=(20, 0, 0), x_dir=(0, 0, -1), z_dir=(1, 0, 0)).offset(CORTAR_EXTRUIR35_START)):
        Polygon((7.5, 16.58771324), (4.75, 18.175426481), (2, 16.58771324), (2, 13.41228676), (4.75, 11.824573519), (7.5, 13.41228676), align=None)
    extrude(amount=-CORTAR_EXTRUIR35_DEPTH, mode=Mode.SUBTRACT)

    # Croquis37 → Saliente-Extruir8 (add)
    with BuildSketch(Plane.XZ.offset(-10)):
        Polygon((-39.160527763, -4.104491148), (-20.614919368, -20), (-15, -20), (-19.558128305, -15.637570403), (-33.014002756, -4.104491148), align=None)
    extrude(amount=-SALIENTE_EXTRUIR8_DEPTH)

    # Croquis38 → Saliente-Extruir9 (add)
    with BuildSketch(Plane.XZ.offset(-10)):
        Polygon((-58.825, 12.75), (-38.825, 12.75), (-38.825, 9.75), (-55.324839942, 9.75), align=None)
    extrude(amount=SALIENTE_EXTRUIR9_DEPTH)

    # Croquis39 → Saliente-Extruir10 (add)
    with BuildSketch(Plane.XZ.offset(-10)):
        Polygon((-38.825, 9.75), (-38.825, 7.75), (-38.825, 5.75), (-50.657959865, 5.75), (-52.991399903, 7.75), (-55.324839942, 9.75), align=None)
    extrude(amount=SALIENTE_EXTRUIR10_DEPTH)


solid = body_2_1.part
